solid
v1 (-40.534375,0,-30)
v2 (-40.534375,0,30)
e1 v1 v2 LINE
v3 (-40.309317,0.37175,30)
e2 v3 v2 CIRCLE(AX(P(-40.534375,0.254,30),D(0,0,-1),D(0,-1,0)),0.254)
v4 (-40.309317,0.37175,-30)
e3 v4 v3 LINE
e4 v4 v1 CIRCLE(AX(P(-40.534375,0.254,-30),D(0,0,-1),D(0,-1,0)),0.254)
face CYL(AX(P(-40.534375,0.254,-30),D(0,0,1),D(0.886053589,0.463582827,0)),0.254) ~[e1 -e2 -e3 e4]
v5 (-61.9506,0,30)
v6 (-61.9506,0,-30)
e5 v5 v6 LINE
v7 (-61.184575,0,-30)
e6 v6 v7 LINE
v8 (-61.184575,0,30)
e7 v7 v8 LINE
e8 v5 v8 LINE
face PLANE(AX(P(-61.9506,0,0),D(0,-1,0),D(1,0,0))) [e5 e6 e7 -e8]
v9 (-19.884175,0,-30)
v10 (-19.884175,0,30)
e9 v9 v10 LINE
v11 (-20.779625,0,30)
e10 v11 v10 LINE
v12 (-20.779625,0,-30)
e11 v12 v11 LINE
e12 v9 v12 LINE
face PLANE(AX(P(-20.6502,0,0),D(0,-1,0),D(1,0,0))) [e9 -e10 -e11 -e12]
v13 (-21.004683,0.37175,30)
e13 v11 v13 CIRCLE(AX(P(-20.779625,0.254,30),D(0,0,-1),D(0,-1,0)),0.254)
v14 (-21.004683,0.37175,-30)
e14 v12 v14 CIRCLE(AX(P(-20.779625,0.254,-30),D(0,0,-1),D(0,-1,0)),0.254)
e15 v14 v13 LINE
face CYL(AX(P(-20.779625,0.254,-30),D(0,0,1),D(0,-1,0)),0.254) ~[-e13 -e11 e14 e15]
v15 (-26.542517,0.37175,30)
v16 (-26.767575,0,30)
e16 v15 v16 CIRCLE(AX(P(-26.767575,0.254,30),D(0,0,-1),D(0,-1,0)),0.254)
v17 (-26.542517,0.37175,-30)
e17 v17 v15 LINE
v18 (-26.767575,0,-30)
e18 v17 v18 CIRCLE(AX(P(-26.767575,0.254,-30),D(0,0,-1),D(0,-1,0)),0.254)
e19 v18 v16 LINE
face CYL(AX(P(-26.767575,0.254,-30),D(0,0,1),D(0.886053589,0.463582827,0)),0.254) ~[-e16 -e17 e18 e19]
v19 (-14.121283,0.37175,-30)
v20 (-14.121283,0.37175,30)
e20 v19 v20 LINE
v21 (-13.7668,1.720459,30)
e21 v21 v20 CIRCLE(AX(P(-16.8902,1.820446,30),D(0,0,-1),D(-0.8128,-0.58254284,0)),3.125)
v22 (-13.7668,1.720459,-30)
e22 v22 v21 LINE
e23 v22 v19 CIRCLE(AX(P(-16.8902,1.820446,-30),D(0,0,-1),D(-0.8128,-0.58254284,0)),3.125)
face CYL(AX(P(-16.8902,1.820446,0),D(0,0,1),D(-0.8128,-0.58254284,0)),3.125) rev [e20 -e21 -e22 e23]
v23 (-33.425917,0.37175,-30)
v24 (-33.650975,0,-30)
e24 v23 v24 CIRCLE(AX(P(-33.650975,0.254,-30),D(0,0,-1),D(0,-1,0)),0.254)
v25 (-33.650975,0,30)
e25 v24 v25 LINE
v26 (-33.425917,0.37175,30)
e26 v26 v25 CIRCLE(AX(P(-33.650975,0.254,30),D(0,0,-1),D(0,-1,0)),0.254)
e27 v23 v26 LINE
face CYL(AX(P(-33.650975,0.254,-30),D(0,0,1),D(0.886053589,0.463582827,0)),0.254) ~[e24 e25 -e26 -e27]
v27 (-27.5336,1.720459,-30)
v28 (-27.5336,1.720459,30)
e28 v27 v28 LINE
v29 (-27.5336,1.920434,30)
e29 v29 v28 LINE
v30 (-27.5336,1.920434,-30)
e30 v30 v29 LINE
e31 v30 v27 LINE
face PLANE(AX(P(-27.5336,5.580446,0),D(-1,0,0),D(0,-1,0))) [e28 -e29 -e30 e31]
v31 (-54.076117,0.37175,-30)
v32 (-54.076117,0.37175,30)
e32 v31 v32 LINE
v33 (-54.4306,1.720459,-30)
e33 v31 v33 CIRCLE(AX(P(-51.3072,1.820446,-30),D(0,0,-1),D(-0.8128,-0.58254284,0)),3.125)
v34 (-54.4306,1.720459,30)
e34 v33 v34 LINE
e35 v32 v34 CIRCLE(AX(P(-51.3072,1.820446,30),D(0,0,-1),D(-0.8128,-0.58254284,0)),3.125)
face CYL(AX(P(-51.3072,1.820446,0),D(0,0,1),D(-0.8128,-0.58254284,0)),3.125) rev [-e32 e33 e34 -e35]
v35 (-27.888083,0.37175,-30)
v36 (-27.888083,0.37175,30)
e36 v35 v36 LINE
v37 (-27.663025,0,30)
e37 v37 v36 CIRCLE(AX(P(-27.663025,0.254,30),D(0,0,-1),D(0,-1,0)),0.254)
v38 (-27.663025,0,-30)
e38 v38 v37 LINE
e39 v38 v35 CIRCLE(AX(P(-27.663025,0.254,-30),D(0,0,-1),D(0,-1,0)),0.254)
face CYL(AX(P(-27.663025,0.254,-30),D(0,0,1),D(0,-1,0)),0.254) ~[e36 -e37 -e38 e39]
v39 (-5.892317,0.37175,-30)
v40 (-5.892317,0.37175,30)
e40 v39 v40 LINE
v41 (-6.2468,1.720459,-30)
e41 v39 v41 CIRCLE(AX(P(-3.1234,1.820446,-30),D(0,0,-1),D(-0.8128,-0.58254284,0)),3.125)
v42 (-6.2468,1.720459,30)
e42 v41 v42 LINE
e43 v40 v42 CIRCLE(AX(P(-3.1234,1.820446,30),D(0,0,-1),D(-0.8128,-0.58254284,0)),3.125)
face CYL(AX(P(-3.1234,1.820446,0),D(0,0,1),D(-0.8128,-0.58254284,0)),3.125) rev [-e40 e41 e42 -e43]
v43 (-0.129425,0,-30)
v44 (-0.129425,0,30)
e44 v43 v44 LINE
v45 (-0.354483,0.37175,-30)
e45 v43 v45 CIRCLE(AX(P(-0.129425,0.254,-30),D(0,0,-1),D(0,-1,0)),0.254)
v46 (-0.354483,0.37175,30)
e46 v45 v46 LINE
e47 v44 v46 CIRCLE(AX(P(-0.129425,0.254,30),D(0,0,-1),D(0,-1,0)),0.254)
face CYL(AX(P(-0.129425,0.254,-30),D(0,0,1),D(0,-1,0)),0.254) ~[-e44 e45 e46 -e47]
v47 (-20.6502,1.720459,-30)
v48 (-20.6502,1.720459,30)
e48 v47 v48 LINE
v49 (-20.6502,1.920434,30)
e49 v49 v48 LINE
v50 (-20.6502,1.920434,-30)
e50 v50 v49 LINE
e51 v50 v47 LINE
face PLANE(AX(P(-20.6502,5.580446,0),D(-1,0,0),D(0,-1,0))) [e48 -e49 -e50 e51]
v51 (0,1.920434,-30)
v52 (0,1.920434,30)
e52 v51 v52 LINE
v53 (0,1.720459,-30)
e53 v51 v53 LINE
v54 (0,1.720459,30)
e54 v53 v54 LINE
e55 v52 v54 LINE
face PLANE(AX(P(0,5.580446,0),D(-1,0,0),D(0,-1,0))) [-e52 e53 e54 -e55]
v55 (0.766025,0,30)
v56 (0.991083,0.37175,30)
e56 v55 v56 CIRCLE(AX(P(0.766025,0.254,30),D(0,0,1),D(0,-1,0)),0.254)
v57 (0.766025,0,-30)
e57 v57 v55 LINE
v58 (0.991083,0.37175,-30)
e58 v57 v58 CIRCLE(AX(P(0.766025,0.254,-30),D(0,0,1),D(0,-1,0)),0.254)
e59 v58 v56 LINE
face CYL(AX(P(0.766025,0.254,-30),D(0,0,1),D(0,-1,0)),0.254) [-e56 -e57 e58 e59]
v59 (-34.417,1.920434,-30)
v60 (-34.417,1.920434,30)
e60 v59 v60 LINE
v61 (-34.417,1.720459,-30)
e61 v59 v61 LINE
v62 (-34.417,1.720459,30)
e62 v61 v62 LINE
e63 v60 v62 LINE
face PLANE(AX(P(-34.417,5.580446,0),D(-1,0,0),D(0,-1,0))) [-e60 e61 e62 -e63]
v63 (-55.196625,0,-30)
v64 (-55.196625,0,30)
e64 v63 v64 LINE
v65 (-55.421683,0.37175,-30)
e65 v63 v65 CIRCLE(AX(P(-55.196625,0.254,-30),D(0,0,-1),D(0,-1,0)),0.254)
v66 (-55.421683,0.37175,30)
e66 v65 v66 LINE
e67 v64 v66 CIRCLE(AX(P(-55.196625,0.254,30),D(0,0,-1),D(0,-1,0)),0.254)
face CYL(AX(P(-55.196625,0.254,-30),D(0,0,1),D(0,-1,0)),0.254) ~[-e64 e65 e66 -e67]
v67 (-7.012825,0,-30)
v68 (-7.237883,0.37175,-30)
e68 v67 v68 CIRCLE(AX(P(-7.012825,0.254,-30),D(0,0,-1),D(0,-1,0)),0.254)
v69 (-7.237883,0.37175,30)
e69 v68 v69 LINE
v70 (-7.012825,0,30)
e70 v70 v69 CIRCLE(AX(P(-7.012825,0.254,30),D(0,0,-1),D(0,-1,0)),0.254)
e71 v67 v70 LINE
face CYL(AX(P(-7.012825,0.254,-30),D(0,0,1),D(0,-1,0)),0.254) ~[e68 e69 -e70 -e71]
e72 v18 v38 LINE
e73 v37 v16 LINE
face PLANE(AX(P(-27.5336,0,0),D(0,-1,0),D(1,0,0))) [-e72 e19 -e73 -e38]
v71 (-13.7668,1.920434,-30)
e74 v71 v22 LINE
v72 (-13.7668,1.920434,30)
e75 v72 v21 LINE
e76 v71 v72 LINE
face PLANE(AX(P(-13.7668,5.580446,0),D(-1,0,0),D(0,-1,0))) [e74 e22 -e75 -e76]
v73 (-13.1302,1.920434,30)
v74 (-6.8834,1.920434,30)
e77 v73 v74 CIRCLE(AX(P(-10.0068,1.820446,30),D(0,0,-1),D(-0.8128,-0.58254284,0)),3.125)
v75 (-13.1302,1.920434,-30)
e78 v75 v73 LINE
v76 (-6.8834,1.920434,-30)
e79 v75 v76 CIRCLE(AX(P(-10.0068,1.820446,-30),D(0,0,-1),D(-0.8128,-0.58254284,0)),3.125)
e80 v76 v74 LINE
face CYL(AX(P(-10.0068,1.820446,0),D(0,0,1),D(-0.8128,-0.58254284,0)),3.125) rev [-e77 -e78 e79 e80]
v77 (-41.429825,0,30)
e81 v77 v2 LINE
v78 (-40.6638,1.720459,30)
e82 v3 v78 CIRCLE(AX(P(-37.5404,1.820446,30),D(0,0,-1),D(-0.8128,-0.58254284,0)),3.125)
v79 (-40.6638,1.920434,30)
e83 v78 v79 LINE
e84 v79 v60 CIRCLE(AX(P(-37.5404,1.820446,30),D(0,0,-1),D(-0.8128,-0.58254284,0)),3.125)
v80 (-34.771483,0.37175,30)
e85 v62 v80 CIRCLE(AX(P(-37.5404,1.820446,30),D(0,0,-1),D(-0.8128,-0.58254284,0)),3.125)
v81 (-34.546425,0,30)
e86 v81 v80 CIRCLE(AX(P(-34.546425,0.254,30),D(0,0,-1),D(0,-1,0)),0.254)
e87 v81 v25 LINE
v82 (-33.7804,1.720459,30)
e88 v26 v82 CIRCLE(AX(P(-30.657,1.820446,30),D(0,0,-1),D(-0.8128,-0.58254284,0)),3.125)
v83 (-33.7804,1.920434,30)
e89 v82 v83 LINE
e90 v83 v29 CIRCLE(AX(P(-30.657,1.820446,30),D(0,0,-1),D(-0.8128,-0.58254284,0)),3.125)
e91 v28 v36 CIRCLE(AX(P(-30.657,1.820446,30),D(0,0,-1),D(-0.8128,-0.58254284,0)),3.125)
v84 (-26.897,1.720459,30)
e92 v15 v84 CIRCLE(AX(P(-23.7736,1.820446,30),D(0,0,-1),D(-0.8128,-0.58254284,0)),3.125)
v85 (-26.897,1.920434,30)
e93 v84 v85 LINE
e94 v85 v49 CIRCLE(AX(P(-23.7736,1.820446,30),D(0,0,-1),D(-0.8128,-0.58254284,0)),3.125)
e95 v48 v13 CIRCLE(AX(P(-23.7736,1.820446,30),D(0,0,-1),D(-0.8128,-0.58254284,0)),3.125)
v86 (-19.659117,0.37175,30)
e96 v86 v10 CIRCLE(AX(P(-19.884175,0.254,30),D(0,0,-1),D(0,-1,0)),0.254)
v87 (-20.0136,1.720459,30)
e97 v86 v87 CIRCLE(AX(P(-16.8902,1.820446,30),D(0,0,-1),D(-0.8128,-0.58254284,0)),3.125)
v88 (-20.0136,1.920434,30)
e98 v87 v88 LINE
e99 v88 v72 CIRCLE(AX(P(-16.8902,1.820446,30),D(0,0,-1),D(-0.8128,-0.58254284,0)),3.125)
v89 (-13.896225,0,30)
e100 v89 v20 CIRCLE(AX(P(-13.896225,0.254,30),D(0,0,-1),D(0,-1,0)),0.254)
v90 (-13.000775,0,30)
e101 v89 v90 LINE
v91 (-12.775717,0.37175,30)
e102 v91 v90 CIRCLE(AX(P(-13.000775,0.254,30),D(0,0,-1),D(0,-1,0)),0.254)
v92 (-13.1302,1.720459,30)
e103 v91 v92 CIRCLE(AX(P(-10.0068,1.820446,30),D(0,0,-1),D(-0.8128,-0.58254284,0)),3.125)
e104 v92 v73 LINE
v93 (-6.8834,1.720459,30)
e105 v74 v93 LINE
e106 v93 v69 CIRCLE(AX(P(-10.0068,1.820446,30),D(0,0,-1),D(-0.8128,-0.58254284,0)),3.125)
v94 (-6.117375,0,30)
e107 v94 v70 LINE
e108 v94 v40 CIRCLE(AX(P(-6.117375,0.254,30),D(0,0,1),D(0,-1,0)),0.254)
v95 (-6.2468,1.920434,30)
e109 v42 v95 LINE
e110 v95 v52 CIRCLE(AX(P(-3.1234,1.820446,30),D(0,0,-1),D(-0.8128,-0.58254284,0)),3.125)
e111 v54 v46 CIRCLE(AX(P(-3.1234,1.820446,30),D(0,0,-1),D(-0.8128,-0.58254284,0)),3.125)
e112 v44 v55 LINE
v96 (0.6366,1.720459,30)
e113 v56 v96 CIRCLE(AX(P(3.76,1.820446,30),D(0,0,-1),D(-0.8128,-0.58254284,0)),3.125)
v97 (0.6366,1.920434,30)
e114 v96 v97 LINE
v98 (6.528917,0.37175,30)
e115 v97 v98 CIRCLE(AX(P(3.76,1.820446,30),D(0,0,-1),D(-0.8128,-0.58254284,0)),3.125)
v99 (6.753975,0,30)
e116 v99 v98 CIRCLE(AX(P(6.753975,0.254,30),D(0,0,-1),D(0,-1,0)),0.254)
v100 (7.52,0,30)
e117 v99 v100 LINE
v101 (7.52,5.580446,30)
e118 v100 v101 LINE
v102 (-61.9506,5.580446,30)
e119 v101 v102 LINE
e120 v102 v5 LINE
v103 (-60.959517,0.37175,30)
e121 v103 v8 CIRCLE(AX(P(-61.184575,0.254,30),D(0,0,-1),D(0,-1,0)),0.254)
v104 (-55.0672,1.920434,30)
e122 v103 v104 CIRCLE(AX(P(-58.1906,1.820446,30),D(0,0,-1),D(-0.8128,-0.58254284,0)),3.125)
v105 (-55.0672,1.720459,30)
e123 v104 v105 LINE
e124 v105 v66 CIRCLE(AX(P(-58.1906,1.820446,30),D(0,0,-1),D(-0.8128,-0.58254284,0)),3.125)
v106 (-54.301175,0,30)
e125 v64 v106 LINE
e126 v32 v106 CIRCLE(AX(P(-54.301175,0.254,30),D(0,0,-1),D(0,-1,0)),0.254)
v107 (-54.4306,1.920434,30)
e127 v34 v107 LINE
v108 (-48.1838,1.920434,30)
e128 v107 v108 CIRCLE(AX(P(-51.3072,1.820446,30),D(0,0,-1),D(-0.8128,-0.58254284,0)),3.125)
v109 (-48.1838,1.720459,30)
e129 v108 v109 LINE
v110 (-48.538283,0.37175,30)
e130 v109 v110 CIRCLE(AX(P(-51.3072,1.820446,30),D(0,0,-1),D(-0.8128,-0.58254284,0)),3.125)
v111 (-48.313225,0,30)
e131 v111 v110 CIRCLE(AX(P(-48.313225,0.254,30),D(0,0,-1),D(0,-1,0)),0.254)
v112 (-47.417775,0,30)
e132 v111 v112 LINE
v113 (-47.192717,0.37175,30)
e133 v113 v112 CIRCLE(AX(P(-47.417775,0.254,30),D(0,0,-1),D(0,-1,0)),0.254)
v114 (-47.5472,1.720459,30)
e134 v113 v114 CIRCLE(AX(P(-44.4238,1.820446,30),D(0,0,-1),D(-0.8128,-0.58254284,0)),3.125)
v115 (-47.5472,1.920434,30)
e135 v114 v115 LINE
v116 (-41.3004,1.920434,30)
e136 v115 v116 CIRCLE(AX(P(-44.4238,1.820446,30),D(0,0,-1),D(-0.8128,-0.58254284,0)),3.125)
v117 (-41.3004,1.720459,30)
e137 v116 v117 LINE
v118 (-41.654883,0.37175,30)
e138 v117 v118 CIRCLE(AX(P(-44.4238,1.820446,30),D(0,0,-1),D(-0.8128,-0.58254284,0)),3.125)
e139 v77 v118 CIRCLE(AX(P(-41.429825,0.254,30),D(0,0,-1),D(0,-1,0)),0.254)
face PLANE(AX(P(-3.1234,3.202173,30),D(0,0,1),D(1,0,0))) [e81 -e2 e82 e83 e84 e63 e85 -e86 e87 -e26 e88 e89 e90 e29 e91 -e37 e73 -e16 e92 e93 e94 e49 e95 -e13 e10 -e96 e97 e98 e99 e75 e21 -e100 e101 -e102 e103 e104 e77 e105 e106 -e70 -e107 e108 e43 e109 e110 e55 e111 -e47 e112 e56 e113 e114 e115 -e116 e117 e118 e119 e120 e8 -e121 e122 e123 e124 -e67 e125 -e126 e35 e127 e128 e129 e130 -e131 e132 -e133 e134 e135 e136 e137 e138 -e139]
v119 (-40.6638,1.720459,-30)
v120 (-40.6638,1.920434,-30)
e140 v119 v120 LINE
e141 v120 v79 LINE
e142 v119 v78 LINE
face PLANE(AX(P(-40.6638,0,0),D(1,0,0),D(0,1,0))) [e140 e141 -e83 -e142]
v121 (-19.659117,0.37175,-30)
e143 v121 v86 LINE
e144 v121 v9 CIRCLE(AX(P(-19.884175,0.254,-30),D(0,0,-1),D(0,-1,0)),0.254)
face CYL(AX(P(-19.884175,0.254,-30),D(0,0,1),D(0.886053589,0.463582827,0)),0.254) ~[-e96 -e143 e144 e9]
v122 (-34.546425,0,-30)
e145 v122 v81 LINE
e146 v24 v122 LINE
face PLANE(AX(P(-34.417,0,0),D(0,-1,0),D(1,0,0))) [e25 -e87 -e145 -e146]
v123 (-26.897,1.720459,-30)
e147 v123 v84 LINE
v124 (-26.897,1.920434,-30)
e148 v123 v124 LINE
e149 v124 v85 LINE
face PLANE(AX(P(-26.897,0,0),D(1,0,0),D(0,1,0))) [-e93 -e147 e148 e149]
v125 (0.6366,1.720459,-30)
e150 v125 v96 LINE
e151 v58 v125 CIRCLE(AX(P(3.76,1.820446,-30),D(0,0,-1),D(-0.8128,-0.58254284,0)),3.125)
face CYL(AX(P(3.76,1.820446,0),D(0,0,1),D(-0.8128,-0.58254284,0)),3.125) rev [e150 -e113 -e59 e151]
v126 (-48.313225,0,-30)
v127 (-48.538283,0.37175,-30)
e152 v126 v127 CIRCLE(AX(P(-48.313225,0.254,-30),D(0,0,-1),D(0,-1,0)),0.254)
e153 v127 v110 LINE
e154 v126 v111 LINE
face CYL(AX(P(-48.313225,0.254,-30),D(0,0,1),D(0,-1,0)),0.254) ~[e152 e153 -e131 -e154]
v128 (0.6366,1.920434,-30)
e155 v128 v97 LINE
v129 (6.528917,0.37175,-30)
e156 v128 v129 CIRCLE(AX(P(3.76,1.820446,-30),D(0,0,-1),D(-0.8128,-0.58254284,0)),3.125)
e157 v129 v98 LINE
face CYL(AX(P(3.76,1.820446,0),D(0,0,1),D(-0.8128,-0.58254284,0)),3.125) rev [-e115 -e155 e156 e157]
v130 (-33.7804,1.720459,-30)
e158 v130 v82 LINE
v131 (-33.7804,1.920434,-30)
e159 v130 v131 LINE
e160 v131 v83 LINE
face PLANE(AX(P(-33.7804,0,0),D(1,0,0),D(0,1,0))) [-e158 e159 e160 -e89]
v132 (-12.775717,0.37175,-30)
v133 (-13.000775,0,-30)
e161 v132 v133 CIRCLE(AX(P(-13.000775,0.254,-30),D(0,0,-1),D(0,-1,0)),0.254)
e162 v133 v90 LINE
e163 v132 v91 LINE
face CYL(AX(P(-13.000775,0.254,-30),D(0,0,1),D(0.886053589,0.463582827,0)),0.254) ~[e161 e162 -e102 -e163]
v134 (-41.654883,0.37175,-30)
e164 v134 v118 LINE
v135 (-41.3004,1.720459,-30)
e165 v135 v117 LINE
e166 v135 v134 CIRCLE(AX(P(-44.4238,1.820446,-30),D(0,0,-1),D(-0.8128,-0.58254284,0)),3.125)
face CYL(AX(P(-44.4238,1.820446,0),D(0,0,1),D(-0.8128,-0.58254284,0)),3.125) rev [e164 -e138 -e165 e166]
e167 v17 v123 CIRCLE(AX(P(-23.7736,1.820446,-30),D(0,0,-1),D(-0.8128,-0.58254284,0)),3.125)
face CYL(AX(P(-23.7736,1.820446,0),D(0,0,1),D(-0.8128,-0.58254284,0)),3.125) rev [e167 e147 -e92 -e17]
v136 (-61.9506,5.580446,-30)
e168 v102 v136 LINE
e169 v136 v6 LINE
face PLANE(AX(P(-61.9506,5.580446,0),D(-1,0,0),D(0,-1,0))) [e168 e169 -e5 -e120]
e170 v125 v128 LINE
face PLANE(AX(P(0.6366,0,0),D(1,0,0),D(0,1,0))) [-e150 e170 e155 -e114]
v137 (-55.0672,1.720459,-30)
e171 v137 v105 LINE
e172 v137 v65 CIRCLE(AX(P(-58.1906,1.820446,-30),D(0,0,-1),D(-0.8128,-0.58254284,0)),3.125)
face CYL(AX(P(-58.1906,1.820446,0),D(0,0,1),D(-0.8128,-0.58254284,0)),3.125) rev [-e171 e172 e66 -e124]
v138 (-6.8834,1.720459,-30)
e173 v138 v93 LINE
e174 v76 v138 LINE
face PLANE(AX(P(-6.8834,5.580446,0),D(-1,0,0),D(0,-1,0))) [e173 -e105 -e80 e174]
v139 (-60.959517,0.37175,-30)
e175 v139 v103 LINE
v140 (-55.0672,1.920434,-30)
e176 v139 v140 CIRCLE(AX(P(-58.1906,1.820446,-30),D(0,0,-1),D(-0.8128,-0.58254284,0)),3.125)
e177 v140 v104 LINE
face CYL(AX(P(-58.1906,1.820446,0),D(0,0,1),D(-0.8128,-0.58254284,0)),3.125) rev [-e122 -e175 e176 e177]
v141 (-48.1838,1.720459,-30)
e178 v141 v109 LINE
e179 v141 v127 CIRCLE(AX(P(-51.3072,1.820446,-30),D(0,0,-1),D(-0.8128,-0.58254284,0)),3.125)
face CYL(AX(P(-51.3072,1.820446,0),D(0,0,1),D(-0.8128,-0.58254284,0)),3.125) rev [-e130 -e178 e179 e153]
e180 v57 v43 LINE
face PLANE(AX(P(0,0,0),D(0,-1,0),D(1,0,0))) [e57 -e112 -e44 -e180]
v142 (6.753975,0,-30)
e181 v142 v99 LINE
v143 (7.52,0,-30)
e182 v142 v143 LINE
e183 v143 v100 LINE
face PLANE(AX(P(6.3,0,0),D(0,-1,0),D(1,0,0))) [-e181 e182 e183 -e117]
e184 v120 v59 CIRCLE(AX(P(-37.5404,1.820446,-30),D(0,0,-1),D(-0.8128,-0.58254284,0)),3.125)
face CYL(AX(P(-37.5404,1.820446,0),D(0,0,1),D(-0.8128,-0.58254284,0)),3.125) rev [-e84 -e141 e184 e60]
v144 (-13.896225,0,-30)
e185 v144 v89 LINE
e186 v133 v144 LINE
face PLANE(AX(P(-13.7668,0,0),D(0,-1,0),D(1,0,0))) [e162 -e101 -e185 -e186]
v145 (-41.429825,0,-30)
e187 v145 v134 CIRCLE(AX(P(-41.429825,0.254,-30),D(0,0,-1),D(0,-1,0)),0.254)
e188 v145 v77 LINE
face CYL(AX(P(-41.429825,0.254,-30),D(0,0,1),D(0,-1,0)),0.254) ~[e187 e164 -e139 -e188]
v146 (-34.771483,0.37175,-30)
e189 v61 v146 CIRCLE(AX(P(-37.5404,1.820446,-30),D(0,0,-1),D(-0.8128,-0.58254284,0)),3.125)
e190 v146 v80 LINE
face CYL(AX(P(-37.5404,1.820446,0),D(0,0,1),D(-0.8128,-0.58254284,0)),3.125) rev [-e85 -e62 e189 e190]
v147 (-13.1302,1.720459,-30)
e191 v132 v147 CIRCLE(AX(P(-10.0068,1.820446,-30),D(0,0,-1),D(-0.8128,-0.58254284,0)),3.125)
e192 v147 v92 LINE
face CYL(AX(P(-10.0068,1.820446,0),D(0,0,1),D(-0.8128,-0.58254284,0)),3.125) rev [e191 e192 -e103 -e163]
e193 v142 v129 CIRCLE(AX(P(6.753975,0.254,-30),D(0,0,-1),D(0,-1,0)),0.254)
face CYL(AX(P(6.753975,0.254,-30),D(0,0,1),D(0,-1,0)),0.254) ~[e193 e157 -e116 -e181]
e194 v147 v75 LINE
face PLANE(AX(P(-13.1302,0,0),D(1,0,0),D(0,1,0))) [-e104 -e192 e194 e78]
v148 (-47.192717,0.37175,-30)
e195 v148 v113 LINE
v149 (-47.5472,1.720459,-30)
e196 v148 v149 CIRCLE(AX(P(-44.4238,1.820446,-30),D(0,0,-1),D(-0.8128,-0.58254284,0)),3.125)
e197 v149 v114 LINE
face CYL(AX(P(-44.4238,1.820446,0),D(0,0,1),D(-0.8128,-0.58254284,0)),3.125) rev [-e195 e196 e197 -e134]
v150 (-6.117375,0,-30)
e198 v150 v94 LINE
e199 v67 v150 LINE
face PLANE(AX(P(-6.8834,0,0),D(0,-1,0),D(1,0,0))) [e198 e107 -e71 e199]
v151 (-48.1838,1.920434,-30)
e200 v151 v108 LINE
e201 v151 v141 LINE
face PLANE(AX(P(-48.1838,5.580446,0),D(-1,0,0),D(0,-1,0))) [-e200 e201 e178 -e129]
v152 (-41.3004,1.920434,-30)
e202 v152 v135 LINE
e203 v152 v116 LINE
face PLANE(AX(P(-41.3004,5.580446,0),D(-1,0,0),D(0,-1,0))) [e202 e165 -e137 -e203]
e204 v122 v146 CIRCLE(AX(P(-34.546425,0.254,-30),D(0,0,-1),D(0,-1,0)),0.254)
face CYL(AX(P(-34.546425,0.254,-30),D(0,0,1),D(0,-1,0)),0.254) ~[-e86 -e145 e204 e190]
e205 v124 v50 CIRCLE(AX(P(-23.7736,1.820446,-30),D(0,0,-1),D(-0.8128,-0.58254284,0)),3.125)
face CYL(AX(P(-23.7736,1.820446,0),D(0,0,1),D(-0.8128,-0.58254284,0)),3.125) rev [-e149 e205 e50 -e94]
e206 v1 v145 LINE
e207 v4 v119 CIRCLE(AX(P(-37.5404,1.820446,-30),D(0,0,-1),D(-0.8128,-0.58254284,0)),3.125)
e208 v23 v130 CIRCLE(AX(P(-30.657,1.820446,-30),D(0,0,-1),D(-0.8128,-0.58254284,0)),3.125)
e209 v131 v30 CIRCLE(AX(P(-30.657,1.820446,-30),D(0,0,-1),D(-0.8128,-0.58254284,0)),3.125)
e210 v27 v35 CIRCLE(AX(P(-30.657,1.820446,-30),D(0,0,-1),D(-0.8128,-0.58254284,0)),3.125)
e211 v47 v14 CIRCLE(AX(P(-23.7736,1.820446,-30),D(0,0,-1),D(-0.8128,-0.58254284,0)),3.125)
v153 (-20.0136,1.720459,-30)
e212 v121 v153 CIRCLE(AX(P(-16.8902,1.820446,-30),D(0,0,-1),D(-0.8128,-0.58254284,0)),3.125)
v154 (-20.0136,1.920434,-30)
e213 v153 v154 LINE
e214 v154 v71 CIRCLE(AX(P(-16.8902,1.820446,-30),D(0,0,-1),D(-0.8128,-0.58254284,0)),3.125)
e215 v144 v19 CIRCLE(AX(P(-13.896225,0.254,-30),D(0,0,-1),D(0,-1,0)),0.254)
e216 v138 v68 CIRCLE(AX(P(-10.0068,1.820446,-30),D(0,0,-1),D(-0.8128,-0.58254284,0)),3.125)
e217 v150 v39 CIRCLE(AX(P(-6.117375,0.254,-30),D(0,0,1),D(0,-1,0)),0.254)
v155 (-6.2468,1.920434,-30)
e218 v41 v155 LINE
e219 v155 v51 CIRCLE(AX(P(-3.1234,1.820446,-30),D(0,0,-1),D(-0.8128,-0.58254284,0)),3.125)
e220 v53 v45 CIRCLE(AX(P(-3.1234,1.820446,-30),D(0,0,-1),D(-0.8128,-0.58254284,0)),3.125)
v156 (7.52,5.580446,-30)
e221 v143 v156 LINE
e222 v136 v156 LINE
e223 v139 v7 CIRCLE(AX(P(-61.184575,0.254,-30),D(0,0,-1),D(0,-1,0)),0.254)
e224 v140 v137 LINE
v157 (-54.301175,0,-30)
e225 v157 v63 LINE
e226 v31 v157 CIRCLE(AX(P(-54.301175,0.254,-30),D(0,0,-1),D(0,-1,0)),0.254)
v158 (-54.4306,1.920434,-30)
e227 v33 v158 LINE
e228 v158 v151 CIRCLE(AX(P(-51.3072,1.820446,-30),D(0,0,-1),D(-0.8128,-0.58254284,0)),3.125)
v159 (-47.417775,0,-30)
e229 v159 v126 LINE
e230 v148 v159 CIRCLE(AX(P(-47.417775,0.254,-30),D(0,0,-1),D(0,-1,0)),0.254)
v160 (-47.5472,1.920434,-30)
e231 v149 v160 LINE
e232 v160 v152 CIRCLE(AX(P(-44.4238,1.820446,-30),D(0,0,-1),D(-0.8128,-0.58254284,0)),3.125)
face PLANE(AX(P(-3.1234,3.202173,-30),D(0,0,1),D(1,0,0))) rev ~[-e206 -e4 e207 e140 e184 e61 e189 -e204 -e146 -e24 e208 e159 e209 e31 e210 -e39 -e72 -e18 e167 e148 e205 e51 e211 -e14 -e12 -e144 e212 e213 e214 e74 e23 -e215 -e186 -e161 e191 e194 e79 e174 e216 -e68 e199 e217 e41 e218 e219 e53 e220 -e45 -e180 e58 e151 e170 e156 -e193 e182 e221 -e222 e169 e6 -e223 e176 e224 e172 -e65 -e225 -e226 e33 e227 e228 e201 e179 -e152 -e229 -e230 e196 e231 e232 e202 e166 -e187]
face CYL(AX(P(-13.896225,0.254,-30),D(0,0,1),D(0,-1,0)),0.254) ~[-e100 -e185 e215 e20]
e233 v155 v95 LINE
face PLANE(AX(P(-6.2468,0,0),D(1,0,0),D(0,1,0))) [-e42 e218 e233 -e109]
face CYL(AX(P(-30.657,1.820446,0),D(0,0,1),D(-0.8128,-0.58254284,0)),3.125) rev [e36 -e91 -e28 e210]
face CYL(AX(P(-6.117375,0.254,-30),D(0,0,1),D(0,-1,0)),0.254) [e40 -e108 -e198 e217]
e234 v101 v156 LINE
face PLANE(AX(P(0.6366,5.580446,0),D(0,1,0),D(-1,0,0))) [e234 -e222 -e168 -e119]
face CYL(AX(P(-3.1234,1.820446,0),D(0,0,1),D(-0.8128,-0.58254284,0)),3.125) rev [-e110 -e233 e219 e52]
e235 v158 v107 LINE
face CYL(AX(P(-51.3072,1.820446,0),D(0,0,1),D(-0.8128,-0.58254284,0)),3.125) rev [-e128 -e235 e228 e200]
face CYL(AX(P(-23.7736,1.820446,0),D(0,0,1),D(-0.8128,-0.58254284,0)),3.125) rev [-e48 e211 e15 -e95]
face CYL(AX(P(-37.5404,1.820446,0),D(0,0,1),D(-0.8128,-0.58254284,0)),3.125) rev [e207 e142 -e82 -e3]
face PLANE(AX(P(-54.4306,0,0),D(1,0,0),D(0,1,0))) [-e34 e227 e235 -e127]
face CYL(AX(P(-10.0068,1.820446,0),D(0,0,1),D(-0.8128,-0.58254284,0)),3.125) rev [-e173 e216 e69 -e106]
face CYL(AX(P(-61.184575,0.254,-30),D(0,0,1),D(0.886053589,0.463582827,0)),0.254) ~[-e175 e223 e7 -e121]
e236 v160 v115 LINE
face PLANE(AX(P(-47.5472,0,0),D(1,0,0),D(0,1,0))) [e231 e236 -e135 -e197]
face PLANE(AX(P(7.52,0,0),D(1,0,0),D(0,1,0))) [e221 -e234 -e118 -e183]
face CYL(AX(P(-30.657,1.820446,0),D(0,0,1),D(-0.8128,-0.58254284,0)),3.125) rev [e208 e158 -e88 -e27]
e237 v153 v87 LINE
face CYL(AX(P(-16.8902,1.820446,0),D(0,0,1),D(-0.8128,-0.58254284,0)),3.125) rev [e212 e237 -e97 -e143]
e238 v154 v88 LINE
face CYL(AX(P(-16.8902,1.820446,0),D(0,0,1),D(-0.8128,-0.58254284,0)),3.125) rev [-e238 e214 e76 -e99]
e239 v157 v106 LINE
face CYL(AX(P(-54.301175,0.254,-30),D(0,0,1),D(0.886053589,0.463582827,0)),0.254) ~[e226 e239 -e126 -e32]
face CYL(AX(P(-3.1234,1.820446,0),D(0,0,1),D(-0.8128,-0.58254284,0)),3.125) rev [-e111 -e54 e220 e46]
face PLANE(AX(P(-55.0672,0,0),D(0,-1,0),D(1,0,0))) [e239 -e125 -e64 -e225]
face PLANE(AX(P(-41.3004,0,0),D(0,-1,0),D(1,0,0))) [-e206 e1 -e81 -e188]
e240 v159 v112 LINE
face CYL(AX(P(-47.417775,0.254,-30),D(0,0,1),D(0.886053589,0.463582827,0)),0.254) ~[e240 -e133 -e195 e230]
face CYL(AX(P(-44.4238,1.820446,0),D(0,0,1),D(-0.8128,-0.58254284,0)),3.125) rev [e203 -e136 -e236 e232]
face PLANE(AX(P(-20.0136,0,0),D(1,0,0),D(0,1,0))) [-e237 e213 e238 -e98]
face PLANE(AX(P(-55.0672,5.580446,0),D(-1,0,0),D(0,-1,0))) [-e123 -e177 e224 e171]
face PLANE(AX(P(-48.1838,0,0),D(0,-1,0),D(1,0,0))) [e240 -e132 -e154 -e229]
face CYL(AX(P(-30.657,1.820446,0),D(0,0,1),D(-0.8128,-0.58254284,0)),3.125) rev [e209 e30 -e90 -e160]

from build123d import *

# Parameters (mm, degrees)
BOSS_EXTRUDE1_DEPTH    = 30
FILLET1_R              = 0.254
LPATTERN1_COUNT        = 10
LPATTERN1_PITCH        = 6.8834
FILLET1_OF_LPATTERN1_R = 0.254


with BuildPart() as part:
    # Sketch1 → Boss-Extrude1 (new, symmetric)
    with BuildSketch(Plane.XY):
        with BuildLine():
            Line((0, 0), (1.22, 0))
            ThreePointArc((1.22, 0), (3.76, 4.945446374), (6.3, 0))
            Line((6.3, 0), (7.52, 0))
            Line((7.52, 0), (7.52, 5.580446374))
            Line((7.52, 5.580446374), (0, 5.580446374))
            Line((0, 5.580446374), (0, 0))
        make_face()
    boss_extrude1 = extrude(amount=BOSS_EXTRUDE1_DEPTH, both=True)

    # Fillet1
    fillet1_edges = [part.edges().sort_by_distance(p)[0] for p in [
        (6.3, 0, 0),
        (1.22, 0, 0),
    ]]
    fillet(fillet1_edges, radius=FILLET1_R)

    # LPattern1: Boss-Extrude1 ×10
    with Locations(*[(-i * LPATTERN1_PITCH, 0, 0) for i in range(1, LPATTERN1_COUNT)]):
        add(boss_extrude1)

    # Fillet1 of LPattern1
    fillet1_of_lpattern1_edges = [part.edges().sort_by_distance(p)[0] for p in [
        (-0.5834, 0, 0),
        (-5.6634, 0, 0),
        (-7.4668, 0, 0),
        (-12.5468, 0, 0),
        (-14.3502, 0, 0),
        (-19.4302, 0, 0),
        (-21.2336, 0, 0),
        (-26.3136, 0, 0),
        (-28.117, 0, 0),
        (-33.197, 0, 0),
        (-35.0004, 0, 0),
        (-40.0804, 0, 0),
        (-41.8838, 0, 0),
        (-46.9638, 0, 0),
        (-48.7672, 0, 0),
        (-53.8472, 0, 0),
        (-55.6506, 0, 0),
        (-60.7306, 0, 0),
    ]]
    fillet(fillet1_of_lpattern1_edges, radius=FILLET1_OF_LPATTERN1_R)


solid = part.part
